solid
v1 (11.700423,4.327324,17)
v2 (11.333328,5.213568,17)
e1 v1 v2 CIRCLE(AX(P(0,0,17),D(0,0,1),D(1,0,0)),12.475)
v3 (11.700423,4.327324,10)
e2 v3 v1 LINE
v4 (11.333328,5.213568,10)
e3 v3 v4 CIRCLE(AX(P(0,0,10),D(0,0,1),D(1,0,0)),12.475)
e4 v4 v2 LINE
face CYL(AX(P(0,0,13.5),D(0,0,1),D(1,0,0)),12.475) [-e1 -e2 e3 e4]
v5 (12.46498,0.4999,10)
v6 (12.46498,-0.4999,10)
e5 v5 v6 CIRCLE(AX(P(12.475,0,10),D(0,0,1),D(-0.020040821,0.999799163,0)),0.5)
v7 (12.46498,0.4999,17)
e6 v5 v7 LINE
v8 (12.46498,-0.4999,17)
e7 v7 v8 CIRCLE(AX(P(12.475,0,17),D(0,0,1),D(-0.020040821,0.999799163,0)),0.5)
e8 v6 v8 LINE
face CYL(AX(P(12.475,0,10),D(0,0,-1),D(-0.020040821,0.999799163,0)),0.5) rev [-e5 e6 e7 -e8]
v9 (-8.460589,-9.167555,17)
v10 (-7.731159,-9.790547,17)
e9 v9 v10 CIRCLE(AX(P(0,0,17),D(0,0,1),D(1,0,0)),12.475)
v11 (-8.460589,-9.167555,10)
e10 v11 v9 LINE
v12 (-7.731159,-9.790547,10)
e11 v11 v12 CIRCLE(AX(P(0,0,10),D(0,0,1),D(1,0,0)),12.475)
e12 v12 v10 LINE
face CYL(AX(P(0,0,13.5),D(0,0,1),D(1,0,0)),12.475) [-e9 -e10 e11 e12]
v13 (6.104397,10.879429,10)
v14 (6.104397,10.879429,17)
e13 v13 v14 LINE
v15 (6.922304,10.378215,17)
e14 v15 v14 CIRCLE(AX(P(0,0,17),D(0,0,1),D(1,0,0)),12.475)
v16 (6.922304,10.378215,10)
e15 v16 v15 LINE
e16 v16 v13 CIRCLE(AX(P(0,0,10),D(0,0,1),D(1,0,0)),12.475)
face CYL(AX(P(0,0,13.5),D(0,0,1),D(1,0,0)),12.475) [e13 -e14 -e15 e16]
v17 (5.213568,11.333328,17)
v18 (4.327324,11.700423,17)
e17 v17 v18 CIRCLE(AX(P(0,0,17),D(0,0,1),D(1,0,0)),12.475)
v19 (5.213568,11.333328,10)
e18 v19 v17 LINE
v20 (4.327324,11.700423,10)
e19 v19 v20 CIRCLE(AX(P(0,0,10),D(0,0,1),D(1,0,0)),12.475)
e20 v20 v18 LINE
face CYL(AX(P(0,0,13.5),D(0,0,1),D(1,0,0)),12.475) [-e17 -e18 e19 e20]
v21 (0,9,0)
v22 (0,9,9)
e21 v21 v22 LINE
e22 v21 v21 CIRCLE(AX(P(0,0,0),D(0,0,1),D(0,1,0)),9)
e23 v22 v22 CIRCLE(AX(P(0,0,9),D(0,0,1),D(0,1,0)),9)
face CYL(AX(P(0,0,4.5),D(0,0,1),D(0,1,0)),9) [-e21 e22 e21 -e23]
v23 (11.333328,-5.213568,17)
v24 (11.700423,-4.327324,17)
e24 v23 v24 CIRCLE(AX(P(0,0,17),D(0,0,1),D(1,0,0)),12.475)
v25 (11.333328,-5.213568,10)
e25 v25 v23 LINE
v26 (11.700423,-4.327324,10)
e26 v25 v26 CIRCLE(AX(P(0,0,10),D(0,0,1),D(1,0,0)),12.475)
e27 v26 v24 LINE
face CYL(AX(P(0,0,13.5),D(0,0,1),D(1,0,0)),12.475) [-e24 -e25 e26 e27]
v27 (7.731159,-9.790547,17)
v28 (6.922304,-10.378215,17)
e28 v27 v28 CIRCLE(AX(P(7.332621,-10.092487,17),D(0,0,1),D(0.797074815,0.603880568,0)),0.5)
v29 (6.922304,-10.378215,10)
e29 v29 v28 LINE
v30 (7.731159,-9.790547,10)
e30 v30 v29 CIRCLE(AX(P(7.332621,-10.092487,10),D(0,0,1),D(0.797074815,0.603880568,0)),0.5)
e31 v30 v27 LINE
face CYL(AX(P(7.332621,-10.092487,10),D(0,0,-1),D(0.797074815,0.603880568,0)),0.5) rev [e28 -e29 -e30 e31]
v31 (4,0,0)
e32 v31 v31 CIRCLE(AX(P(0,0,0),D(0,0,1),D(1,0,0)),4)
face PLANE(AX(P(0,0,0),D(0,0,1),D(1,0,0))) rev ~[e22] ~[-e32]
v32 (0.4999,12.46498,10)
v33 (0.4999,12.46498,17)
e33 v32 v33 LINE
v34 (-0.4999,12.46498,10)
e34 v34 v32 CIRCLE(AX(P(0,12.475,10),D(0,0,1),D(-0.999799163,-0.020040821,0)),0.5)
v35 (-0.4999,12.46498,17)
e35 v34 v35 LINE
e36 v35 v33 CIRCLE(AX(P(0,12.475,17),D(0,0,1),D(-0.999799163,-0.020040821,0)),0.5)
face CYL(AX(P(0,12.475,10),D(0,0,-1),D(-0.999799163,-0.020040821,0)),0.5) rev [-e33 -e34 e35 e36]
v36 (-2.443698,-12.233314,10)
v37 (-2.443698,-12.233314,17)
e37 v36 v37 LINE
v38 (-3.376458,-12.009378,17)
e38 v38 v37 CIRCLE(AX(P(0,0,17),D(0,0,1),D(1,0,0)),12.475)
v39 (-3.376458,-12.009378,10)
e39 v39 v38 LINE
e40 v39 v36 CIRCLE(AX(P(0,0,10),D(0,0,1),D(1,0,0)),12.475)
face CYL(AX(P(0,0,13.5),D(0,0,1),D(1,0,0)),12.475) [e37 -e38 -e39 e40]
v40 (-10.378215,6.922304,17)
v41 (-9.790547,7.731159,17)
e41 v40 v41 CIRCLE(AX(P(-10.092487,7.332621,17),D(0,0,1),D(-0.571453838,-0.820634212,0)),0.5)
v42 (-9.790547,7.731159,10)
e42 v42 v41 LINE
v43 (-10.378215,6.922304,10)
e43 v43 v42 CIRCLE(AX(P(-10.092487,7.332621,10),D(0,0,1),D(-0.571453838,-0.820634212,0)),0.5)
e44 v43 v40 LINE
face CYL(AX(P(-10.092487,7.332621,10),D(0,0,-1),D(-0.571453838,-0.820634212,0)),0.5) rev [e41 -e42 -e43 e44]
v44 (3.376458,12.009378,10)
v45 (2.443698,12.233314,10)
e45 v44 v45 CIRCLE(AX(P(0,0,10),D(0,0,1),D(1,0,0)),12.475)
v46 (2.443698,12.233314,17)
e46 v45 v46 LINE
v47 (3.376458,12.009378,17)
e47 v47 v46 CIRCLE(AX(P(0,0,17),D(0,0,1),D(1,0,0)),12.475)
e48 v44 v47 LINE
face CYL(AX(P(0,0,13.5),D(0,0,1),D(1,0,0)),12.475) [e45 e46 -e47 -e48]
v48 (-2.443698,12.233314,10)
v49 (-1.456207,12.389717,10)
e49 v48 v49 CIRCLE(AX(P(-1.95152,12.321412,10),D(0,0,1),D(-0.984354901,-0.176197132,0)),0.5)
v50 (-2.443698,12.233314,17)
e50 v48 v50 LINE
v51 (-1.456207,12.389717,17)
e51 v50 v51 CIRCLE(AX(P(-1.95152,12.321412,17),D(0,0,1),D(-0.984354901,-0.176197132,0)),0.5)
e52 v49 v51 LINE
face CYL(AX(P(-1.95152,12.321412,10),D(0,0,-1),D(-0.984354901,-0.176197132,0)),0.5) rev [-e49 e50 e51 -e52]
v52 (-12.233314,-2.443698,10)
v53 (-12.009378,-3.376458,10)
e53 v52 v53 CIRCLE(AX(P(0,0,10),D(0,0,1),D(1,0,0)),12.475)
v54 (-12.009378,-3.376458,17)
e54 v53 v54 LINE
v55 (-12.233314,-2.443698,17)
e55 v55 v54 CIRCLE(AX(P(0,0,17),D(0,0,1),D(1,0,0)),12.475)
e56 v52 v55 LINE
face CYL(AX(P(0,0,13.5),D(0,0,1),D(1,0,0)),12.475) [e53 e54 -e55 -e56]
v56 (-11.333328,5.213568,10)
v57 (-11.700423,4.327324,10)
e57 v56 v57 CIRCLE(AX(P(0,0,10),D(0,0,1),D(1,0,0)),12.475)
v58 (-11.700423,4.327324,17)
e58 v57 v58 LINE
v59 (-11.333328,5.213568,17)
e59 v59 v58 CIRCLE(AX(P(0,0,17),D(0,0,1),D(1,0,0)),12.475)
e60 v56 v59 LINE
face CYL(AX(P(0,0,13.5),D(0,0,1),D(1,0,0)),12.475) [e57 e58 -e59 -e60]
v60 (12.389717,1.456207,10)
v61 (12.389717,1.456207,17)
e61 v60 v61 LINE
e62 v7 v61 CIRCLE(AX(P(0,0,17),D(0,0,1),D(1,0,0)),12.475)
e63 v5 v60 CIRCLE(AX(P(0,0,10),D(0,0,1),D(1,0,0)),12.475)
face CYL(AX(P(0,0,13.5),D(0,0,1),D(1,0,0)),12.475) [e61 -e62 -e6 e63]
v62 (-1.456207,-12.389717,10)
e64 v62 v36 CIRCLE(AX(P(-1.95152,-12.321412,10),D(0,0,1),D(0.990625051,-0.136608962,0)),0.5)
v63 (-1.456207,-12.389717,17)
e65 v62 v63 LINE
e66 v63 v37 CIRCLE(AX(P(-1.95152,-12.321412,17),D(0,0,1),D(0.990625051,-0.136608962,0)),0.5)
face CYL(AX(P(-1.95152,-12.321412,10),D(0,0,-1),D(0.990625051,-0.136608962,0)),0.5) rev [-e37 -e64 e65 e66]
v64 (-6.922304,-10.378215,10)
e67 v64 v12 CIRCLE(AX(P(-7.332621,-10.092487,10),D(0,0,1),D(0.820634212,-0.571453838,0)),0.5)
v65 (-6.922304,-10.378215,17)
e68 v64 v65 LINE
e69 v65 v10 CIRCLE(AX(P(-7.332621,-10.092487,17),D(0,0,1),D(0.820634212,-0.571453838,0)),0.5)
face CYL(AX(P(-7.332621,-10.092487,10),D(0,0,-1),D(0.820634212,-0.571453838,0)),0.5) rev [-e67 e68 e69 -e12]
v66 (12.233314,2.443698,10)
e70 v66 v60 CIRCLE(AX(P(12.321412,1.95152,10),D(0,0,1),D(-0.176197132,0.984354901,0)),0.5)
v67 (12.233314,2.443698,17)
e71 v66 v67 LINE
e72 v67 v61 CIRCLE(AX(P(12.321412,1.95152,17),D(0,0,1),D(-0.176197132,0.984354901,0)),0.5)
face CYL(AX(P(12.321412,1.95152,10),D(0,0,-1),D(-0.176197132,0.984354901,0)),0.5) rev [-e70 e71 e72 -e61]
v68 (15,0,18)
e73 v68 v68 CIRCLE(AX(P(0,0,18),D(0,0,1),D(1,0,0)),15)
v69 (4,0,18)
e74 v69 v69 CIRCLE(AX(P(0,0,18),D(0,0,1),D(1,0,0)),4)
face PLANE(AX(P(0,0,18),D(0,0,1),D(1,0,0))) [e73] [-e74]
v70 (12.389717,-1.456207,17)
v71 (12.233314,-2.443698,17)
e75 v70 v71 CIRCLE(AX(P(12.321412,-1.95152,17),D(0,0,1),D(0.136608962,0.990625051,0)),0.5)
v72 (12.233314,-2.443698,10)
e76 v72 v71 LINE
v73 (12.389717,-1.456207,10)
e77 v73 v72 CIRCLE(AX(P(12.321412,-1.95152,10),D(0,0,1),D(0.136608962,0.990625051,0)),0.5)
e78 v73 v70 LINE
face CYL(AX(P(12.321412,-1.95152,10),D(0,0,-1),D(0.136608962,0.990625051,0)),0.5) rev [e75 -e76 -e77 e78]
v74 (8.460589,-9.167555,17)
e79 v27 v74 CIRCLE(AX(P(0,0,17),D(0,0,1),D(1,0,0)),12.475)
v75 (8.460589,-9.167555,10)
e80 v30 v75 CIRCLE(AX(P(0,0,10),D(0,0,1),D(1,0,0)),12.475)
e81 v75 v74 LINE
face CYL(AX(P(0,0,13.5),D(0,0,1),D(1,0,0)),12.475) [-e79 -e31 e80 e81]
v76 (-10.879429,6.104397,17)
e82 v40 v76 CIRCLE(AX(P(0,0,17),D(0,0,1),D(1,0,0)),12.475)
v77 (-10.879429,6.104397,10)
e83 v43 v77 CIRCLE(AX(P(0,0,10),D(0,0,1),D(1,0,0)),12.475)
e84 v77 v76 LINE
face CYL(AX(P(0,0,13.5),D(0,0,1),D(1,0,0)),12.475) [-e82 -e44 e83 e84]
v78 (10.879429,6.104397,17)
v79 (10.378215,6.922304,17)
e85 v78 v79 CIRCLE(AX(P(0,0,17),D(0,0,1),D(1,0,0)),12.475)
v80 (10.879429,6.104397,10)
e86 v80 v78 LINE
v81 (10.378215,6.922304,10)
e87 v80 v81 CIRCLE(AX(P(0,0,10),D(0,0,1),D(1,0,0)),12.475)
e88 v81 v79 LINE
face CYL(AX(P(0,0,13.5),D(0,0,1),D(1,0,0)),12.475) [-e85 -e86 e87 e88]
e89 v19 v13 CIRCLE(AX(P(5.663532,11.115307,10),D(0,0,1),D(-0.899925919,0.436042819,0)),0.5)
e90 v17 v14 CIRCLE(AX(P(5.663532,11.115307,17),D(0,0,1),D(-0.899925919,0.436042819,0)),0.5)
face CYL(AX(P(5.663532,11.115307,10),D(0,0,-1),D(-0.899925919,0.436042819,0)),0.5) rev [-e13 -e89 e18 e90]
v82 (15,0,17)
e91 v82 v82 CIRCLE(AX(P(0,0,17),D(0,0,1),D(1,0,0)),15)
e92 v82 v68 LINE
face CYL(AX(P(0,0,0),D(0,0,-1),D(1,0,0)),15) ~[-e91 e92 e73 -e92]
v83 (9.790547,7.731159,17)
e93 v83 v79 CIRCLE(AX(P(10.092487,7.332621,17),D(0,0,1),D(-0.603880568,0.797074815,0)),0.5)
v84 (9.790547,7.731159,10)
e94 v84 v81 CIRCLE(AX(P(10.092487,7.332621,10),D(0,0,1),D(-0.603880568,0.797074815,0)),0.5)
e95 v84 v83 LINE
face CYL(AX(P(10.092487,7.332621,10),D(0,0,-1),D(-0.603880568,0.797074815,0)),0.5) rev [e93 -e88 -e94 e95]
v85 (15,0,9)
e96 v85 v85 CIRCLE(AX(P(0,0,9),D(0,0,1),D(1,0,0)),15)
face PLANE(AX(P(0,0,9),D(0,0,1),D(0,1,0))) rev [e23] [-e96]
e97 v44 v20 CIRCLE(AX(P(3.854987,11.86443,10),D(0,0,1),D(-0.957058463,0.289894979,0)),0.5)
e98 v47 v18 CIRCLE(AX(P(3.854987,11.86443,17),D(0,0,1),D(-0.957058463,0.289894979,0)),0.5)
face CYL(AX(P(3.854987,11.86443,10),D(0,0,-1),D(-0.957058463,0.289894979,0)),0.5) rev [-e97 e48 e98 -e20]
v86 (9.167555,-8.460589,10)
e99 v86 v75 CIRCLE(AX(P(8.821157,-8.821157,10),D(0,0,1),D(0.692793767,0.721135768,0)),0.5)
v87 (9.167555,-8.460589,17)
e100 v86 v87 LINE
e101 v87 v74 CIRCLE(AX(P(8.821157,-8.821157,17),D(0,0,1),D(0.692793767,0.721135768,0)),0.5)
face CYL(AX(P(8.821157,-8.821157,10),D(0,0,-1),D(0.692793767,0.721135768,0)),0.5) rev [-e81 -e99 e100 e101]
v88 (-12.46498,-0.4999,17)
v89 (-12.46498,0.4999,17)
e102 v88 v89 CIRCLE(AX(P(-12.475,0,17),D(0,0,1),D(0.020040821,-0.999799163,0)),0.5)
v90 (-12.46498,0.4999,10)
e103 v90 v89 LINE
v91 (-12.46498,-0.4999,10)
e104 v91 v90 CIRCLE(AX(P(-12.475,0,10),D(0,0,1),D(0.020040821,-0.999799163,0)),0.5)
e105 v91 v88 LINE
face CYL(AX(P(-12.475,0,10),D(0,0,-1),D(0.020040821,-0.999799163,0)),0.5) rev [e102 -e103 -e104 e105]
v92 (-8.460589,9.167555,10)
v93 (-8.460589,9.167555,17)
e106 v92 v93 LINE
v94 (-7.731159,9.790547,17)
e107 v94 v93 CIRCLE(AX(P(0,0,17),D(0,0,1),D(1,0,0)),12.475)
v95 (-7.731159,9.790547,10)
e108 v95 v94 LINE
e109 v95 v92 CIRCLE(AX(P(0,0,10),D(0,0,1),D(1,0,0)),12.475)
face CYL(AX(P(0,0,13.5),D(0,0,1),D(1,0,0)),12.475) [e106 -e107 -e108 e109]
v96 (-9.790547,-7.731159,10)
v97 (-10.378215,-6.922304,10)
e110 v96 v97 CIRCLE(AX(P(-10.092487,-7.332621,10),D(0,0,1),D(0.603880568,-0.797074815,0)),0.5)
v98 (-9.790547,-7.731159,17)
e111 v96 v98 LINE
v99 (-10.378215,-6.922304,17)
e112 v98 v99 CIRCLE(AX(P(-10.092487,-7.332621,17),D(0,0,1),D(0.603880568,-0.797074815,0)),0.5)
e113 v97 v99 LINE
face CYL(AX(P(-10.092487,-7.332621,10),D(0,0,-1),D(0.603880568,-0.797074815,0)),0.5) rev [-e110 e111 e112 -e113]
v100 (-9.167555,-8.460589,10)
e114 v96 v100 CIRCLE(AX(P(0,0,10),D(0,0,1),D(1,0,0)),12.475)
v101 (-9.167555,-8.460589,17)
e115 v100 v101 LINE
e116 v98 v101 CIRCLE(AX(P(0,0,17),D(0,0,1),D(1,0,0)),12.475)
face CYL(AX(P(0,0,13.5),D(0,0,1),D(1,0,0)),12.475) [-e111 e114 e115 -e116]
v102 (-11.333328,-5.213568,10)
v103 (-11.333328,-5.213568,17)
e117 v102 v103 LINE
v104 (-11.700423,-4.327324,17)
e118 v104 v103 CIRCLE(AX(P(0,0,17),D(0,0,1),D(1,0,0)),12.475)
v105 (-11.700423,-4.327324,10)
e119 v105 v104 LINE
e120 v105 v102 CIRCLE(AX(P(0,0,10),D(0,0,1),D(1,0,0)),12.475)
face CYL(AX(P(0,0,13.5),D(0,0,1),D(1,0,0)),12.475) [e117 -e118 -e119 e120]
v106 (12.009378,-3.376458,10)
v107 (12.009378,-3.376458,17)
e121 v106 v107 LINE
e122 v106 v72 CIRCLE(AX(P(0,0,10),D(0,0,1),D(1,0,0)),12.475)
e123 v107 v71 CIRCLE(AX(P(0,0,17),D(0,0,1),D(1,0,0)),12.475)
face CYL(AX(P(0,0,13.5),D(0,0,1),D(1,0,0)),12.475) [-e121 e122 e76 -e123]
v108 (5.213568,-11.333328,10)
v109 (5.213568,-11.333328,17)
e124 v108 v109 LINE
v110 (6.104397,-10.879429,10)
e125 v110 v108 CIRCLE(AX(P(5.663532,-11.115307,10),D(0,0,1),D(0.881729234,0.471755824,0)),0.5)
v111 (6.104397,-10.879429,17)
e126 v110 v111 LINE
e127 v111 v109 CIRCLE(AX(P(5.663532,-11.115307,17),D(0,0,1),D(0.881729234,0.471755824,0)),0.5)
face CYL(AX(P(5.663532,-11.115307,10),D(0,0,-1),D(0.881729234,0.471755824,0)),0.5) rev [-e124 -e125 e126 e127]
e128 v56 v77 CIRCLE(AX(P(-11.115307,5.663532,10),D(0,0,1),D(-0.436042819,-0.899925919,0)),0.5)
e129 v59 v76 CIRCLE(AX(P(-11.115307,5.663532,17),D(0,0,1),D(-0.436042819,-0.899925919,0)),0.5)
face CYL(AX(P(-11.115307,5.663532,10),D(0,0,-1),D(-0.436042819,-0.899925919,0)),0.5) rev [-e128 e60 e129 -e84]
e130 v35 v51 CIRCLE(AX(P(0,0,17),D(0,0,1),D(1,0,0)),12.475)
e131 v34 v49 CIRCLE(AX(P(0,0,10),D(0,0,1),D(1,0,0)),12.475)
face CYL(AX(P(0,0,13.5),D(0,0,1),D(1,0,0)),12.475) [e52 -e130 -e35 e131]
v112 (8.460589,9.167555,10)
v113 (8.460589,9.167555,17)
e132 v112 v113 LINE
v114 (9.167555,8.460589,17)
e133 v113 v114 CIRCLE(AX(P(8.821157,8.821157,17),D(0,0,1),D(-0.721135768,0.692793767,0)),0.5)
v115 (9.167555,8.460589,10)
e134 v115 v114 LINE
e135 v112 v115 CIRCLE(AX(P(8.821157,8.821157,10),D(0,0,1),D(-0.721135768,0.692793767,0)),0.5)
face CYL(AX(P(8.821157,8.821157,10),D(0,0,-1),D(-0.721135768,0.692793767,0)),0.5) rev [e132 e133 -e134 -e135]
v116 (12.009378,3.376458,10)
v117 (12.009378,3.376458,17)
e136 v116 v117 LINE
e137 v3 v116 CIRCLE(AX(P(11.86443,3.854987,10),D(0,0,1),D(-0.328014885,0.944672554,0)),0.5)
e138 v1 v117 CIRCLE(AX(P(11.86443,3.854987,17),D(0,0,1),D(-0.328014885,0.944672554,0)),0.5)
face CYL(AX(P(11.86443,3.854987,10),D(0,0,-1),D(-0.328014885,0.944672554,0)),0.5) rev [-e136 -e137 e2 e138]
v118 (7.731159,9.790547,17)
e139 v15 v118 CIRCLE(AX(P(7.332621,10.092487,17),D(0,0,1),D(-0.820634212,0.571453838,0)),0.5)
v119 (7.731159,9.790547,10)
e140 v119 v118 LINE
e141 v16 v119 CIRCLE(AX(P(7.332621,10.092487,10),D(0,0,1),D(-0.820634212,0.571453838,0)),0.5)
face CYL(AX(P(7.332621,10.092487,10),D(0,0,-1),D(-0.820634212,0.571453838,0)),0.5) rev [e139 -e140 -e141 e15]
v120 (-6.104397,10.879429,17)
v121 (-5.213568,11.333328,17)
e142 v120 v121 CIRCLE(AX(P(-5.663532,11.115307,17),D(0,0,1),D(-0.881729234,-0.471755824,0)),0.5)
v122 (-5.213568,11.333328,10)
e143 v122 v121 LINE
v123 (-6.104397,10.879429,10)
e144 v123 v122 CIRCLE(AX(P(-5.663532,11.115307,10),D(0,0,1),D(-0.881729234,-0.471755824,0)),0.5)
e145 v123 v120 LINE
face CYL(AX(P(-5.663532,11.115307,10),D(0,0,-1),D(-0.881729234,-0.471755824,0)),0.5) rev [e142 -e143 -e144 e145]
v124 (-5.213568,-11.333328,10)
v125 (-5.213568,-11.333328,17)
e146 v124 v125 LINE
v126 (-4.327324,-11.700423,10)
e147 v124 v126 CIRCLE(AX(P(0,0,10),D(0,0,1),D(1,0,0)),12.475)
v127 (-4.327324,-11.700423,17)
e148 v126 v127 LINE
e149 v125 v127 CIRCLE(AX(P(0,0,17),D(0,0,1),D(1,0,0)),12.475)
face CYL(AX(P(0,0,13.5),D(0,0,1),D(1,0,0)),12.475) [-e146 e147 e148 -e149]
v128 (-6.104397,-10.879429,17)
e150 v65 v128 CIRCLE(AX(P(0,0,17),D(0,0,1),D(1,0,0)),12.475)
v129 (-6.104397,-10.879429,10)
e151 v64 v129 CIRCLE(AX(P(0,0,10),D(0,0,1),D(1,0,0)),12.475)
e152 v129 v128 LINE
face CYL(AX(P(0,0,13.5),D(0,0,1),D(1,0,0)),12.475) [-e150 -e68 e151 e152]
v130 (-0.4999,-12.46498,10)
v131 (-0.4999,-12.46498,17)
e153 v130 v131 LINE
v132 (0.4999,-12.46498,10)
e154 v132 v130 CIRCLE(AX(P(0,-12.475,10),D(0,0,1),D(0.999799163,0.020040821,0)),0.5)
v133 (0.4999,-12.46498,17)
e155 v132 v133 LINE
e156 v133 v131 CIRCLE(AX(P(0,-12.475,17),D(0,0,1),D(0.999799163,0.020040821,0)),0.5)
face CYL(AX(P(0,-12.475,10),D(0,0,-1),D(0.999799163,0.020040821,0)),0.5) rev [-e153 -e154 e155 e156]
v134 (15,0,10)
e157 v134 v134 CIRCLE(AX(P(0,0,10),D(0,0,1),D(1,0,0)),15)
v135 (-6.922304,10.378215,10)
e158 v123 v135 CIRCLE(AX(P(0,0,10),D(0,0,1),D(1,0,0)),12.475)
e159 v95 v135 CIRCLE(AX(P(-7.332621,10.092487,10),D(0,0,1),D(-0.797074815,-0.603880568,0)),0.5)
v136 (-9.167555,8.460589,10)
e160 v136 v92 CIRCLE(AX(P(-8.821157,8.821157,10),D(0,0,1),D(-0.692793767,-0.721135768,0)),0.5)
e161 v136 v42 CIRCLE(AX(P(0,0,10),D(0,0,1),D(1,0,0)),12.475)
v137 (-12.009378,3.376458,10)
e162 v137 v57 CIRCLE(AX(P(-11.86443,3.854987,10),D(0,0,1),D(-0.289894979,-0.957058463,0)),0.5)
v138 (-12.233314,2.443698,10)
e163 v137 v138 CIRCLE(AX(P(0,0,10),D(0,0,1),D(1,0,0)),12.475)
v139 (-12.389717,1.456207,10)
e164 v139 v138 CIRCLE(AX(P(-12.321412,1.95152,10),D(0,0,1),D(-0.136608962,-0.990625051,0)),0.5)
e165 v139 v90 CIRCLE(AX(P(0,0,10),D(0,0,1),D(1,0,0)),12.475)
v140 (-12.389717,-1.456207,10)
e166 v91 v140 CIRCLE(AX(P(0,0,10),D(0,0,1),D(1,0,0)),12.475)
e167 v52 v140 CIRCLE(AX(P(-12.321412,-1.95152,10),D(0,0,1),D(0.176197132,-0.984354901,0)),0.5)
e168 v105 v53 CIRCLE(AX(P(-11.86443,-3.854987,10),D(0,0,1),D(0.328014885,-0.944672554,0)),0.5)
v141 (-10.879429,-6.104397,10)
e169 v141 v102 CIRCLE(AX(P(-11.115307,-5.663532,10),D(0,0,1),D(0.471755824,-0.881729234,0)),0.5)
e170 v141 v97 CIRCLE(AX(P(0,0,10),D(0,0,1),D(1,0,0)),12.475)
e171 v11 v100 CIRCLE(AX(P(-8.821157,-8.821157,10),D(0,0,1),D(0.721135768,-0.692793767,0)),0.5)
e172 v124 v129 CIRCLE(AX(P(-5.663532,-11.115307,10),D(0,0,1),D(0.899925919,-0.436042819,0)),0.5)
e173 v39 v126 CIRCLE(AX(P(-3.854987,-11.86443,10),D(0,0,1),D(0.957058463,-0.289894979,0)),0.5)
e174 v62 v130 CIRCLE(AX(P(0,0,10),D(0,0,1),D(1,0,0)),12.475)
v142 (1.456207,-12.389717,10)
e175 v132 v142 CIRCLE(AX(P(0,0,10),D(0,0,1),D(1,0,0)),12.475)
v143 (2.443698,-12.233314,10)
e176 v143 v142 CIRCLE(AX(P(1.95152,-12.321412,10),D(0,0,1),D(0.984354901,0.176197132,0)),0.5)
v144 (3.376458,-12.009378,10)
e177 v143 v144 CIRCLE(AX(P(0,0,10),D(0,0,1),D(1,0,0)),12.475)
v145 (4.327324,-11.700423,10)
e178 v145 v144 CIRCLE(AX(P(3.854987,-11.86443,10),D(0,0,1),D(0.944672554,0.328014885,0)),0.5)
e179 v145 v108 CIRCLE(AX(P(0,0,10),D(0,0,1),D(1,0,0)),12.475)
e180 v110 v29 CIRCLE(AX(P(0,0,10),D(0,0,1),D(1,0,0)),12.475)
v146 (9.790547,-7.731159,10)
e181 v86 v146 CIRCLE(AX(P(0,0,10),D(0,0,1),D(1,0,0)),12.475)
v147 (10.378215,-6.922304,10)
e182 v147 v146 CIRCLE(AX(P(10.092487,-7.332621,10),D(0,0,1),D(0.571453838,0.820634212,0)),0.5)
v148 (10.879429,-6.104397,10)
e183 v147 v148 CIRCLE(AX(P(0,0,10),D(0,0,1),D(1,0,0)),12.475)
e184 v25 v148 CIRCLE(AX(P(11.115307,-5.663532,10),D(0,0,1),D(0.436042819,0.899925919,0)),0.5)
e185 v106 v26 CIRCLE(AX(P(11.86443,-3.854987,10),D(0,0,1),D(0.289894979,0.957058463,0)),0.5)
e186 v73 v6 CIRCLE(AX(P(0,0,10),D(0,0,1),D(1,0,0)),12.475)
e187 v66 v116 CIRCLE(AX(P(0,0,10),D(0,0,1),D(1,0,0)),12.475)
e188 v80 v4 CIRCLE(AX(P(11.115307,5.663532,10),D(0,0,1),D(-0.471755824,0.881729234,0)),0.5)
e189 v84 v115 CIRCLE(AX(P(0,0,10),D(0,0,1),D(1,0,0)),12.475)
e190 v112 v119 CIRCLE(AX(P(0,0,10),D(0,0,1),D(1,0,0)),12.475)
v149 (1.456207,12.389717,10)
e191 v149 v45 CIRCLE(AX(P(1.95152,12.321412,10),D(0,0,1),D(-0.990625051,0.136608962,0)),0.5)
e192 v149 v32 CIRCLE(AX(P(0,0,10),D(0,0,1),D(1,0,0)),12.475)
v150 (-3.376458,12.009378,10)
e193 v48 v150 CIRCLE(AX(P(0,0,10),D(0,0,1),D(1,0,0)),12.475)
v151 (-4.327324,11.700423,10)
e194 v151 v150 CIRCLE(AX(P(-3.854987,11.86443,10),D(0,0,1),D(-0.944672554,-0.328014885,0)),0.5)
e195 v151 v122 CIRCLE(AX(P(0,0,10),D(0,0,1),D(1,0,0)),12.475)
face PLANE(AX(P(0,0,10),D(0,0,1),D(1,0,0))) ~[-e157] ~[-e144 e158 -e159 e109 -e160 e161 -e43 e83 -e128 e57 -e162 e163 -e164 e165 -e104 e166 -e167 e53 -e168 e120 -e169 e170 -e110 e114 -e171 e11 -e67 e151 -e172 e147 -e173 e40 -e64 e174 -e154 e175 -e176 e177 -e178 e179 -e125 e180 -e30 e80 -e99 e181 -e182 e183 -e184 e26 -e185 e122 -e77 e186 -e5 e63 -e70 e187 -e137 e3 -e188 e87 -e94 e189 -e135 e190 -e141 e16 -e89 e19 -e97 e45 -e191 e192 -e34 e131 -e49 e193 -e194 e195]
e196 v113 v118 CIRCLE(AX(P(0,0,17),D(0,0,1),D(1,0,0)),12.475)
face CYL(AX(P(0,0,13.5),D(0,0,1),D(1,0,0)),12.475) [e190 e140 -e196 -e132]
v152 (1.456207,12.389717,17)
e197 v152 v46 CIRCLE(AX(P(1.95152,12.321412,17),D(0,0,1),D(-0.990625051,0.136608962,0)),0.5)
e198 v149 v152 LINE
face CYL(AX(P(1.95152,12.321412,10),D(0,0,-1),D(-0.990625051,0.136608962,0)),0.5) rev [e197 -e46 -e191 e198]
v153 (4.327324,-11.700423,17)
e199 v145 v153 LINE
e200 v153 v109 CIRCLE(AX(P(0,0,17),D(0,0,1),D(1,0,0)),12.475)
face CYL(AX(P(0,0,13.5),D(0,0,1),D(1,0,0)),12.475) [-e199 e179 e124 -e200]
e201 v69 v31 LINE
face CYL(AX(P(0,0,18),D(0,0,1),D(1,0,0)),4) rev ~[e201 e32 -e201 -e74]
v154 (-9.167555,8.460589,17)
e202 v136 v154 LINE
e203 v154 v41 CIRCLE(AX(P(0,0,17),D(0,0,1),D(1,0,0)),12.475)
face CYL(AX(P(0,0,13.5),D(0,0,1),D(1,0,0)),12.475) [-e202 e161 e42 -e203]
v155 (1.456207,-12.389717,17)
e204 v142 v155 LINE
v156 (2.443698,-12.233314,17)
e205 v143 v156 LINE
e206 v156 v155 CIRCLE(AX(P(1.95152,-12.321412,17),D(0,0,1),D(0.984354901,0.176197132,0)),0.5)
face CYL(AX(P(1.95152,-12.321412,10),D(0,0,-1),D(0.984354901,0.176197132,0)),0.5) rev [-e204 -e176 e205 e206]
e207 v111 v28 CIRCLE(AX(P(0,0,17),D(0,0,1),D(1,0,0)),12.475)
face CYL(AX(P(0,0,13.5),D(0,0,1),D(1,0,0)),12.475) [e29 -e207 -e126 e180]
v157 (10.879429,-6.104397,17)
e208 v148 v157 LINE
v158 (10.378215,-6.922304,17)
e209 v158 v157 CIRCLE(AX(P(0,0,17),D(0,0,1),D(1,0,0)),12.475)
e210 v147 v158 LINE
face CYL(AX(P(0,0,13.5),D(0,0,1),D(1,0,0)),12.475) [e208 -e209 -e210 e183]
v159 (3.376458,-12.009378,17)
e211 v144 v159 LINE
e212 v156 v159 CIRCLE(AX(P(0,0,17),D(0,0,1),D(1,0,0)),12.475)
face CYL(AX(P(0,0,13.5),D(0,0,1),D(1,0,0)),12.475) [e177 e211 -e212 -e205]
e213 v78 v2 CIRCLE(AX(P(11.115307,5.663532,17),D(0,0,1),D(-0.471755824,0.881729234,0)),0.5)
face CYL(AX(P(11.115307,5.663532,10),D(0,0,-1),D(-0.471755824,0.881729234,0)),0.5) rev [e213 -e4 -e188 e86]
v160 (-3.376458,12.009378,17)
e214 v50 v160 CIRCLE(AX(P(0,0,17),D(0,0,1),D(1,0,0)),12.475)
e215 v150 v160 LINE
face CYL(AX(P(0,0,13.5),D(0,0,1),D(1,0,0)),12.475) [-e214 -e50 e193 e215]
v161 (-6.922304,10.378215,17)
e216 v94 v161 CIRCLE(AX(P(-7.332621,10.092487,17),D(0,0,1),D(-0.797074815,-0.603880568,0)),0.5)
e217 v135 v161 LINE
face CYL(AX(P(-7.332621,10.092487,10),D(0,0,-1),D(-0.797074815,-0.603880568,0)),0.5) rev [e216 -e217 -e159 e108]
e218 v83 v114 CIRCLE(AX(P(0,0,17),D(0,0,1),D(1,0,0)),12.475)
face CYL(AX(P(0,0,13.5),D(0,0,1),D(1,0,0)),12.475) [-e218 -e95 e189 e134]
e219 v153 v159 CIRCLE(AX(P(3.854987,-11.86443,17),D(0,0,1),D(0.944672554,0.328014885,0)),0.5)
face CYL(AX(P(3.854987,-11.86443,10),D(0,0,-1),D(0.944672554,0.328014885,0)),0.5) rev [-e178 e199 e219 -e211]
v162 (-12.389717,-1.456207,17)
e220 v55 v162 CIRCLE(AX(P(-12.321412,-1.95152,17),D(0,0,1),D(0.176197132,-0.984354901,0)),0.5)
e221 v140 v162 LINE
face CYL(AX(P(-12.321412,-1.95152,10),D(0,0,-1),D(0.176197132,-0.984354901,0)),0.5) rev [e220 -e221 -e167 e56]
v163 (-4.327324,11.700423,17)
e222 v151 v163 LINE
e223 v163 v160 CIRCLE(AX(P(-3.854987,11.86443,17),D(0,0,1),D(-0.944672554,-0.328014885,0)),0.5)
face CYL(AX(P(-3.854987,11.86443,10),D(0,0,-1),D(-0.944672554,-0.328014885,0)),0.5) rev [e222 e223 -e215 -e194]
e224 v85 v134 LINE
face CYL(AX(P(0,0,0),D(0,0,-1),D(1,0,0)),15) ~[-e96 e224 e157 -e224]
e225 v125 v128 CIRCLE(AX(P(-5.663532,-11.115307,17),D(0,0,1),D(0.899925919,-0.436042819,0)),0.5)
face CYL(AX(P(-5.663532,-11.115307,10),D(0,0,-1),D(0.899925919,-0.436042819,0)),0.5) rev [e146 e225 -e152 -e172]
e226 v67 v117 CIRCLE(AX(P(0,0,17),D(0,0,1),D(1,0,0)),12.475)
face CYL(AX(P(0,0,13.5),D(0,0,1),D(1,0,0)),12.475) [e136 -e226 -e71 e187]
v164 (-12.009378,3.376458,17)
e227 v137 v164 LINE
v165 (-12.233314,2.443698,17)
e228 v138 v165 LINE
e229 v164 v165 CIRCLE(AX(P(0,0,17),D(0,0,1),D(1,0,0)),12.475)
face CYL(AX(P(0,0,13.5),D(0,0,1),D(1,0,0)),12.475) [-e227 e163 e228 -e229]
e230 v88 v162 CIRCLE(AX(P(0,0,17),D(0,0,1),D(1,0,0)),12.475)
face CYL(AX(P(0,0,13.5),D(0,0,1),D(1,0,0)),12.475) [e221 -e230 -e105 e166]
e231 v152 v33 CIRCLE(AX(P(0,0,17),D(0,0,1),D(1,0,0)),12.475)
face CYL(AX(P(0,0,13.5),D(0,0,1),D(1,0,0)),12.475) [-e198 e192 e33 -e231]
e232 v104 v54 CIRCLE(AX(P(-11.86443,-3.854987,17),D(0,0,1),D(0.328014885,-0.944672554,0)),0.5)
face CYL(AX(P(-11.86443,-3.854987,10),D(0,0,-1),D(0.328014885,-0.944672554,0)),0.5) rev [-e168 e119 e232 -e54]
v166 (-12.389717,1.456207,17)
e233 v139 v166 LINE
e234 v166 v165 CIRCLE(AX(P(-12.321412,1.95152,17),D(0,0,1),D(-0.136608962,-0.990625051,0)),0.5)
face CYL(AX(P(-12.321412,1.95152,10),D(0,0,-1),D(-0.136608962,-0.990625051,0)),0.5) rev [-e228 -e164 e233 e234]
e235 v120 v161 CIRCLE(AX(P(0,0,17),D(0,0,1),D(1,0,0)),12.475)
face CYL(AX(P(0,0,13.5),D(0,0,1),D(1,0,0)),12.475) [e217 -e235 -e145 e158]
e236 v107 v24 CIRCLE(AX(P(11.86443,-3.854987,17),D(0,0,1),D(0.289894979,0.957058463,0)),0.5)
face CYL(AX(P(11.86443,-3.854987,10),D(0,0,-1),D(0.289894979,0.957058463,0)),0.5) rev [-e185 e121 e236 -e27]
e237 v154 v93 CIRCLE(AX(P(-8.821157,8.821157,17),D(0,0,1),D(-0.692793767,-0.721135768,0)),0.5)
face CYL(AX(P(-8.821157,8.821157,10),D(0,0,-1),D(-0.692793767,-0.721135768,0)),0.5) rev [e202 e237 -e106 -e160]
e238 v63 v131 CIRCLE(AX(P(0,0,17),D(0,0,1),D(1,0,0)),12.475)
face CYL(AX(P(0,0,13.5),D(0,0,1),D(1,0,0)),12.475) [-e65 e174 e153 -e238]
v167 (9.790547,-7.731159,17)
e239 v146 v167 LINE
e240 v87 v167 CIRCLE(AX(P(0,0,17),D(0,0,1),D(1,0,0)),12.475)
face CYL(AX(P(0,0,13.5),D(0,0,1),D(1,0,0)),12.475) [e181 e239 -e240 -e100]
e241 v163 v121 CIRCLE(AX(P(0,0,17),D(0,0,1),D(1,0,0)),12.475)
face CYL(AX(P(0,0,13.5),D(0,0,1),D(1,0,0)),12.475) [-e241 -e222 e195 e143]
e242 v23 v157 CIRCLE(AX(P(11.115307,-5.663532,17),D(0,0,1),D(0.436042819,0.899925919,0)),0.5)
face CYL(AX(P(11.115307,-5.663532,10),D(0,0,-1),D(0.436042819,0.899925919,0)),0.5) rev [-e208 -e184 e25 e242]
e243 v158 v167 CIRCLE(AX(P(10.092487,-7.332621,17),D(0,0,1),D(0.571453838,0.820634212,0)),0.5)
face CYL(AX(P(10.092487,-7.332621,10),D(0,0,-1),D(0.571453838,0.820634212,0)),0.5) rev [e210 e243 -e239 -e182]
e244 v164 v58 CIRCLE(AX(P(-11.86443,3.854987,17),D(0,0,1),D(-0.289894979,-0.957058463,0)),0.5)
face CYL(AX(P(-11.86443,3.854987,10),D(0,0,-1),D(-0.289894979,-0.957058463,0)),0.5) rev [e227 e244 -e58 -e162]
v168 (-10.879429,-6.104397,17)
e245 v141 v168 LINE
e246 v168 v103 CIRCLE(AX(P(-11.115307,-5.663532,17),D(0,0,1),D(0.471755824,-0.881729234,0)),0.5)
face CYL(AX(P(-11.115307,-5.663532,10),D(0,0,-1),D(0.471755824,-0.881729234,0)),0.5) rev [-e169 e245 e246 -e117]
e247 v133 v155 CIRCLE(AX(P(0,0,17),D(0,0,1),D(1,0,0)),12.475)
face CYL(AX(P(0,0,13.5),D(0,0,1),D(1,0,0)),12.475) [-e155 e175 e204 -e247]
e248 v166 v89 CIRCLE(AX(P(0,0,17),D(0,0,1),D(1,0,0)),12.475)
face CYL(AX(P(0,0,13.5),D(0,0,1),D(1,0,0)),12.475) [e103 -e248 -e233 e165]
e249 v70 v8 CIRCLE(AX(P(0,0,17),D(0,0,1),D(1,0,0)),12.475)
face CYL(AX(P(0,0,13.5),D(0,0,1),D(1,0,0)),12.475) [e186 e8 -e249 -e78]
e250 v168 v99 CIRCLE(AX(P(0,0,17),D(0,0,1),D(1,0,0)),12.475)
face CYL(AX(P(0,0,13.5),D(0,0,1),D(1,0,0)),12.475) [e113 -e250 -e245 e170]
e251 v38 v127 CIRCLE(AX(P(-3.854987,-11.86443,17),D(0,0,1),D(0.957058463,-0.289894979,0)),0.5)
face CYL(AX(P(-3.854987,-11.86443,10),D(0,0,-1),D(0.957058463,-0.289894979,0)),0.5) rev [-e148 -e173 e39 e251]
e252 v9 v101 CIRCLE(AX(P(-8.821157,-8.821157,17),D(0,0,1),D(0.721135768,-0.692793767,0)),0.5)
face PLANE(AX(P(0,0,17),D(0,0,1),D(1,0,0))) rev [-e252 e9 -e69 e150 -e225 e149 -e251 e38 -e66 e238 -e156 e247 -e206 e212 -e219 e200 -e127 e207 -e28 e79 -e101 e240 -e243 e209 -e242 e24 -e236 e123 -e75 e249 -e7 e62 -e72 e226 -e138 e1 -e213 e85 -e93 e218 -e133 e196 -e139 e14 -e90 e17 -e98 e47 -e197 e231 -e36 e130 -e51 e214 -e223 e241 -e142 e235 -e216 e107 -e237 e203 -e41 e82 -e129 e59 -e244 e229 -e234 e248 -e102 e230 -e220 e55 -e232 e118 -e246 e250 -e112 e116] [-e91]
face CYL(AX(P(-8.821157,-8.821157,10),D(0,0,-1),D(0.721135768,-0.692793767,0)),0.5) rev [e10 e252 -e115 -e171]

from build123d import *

# Parameters (mm, degrees)
SKETCH_R           = 15
PAD_DEPTH          = 18
SKETCH001_W        = 2.525
SKETCH001_H        = 7
SKETCH002_R        = 4
POCKET_DEPTH       = 18.001
SKETCH003_W        = 6
SKETCH003_H        = 9
POCKET001_DEPTH    = 7
POLARPATTERN_COUNT = 40


with BuildPart() as part:
    # Sketch → Pad (new body)
    with BuildSketch(Plane.XY):
        Circle(SKETCH_R)
    extrude(amount=PAD_DEPTH)

    # Sketch001 → Groove (revolve, cut)
    with BuildSketch(Plane.XZ):
        with Locations((13.7375, 13.5)):
            Rectangle(SKETCH001_W, SKETCH001_H)
    revolve(axis=Axis((0, 0, 0), (0, 0, 1)), mode=Mode.SUBTRACT)

    # Sketch002 (on Face7 of Groove) → Pocket (cut, through all)
    with BuildSketch(Plane.XY.offset(18)):
        Circle(SKETCH002_R)
    extrude(amount=-POCKET_DEPTH, mode=Mode.SUBTRACT)

    # Sketch003 → Groove001 (revolve, cut)
    with BuildSketch(Plane.YZ):
        with Locations((12, 4.5)):
            Rectangle(SKETCH003_W, SKETCH003_H)
    revolve(axis=Axis((0, 0, 0), (0, 0, 1)), mode=Mode.SUBTRACT)

    # Sketch004 (on Face3 of Groove001) → Pocket001 (cut)
    with BuildSketch(Plane.XY.offset(10)):
        with BuildLine():
            ThreePointArc((12.46498, 0.4999), (11.975, 0), (12.46498, -0.4999))
            ThreePointArc((12.46498, -0.4999), (12.475, 0), (12.46498, 0.4999))
        make_face()
    pocket001 = extrude(amount=POCKET001_DEPTH, mode=Mode.SUBTRACT)

    # PolarPattern: Pocket001 ×40 about axis
    polarpattern_axis = Axis((0, 0, 10), (0, 0, 1))
    for i in range(1, POLARPATTERN_COUNT):
        add(pocket001.rotate(polarpattern_axis, i * 360 / POLARPATTERN_COUNT), mode=Mode.SUBTRACT)


solid = part.part
